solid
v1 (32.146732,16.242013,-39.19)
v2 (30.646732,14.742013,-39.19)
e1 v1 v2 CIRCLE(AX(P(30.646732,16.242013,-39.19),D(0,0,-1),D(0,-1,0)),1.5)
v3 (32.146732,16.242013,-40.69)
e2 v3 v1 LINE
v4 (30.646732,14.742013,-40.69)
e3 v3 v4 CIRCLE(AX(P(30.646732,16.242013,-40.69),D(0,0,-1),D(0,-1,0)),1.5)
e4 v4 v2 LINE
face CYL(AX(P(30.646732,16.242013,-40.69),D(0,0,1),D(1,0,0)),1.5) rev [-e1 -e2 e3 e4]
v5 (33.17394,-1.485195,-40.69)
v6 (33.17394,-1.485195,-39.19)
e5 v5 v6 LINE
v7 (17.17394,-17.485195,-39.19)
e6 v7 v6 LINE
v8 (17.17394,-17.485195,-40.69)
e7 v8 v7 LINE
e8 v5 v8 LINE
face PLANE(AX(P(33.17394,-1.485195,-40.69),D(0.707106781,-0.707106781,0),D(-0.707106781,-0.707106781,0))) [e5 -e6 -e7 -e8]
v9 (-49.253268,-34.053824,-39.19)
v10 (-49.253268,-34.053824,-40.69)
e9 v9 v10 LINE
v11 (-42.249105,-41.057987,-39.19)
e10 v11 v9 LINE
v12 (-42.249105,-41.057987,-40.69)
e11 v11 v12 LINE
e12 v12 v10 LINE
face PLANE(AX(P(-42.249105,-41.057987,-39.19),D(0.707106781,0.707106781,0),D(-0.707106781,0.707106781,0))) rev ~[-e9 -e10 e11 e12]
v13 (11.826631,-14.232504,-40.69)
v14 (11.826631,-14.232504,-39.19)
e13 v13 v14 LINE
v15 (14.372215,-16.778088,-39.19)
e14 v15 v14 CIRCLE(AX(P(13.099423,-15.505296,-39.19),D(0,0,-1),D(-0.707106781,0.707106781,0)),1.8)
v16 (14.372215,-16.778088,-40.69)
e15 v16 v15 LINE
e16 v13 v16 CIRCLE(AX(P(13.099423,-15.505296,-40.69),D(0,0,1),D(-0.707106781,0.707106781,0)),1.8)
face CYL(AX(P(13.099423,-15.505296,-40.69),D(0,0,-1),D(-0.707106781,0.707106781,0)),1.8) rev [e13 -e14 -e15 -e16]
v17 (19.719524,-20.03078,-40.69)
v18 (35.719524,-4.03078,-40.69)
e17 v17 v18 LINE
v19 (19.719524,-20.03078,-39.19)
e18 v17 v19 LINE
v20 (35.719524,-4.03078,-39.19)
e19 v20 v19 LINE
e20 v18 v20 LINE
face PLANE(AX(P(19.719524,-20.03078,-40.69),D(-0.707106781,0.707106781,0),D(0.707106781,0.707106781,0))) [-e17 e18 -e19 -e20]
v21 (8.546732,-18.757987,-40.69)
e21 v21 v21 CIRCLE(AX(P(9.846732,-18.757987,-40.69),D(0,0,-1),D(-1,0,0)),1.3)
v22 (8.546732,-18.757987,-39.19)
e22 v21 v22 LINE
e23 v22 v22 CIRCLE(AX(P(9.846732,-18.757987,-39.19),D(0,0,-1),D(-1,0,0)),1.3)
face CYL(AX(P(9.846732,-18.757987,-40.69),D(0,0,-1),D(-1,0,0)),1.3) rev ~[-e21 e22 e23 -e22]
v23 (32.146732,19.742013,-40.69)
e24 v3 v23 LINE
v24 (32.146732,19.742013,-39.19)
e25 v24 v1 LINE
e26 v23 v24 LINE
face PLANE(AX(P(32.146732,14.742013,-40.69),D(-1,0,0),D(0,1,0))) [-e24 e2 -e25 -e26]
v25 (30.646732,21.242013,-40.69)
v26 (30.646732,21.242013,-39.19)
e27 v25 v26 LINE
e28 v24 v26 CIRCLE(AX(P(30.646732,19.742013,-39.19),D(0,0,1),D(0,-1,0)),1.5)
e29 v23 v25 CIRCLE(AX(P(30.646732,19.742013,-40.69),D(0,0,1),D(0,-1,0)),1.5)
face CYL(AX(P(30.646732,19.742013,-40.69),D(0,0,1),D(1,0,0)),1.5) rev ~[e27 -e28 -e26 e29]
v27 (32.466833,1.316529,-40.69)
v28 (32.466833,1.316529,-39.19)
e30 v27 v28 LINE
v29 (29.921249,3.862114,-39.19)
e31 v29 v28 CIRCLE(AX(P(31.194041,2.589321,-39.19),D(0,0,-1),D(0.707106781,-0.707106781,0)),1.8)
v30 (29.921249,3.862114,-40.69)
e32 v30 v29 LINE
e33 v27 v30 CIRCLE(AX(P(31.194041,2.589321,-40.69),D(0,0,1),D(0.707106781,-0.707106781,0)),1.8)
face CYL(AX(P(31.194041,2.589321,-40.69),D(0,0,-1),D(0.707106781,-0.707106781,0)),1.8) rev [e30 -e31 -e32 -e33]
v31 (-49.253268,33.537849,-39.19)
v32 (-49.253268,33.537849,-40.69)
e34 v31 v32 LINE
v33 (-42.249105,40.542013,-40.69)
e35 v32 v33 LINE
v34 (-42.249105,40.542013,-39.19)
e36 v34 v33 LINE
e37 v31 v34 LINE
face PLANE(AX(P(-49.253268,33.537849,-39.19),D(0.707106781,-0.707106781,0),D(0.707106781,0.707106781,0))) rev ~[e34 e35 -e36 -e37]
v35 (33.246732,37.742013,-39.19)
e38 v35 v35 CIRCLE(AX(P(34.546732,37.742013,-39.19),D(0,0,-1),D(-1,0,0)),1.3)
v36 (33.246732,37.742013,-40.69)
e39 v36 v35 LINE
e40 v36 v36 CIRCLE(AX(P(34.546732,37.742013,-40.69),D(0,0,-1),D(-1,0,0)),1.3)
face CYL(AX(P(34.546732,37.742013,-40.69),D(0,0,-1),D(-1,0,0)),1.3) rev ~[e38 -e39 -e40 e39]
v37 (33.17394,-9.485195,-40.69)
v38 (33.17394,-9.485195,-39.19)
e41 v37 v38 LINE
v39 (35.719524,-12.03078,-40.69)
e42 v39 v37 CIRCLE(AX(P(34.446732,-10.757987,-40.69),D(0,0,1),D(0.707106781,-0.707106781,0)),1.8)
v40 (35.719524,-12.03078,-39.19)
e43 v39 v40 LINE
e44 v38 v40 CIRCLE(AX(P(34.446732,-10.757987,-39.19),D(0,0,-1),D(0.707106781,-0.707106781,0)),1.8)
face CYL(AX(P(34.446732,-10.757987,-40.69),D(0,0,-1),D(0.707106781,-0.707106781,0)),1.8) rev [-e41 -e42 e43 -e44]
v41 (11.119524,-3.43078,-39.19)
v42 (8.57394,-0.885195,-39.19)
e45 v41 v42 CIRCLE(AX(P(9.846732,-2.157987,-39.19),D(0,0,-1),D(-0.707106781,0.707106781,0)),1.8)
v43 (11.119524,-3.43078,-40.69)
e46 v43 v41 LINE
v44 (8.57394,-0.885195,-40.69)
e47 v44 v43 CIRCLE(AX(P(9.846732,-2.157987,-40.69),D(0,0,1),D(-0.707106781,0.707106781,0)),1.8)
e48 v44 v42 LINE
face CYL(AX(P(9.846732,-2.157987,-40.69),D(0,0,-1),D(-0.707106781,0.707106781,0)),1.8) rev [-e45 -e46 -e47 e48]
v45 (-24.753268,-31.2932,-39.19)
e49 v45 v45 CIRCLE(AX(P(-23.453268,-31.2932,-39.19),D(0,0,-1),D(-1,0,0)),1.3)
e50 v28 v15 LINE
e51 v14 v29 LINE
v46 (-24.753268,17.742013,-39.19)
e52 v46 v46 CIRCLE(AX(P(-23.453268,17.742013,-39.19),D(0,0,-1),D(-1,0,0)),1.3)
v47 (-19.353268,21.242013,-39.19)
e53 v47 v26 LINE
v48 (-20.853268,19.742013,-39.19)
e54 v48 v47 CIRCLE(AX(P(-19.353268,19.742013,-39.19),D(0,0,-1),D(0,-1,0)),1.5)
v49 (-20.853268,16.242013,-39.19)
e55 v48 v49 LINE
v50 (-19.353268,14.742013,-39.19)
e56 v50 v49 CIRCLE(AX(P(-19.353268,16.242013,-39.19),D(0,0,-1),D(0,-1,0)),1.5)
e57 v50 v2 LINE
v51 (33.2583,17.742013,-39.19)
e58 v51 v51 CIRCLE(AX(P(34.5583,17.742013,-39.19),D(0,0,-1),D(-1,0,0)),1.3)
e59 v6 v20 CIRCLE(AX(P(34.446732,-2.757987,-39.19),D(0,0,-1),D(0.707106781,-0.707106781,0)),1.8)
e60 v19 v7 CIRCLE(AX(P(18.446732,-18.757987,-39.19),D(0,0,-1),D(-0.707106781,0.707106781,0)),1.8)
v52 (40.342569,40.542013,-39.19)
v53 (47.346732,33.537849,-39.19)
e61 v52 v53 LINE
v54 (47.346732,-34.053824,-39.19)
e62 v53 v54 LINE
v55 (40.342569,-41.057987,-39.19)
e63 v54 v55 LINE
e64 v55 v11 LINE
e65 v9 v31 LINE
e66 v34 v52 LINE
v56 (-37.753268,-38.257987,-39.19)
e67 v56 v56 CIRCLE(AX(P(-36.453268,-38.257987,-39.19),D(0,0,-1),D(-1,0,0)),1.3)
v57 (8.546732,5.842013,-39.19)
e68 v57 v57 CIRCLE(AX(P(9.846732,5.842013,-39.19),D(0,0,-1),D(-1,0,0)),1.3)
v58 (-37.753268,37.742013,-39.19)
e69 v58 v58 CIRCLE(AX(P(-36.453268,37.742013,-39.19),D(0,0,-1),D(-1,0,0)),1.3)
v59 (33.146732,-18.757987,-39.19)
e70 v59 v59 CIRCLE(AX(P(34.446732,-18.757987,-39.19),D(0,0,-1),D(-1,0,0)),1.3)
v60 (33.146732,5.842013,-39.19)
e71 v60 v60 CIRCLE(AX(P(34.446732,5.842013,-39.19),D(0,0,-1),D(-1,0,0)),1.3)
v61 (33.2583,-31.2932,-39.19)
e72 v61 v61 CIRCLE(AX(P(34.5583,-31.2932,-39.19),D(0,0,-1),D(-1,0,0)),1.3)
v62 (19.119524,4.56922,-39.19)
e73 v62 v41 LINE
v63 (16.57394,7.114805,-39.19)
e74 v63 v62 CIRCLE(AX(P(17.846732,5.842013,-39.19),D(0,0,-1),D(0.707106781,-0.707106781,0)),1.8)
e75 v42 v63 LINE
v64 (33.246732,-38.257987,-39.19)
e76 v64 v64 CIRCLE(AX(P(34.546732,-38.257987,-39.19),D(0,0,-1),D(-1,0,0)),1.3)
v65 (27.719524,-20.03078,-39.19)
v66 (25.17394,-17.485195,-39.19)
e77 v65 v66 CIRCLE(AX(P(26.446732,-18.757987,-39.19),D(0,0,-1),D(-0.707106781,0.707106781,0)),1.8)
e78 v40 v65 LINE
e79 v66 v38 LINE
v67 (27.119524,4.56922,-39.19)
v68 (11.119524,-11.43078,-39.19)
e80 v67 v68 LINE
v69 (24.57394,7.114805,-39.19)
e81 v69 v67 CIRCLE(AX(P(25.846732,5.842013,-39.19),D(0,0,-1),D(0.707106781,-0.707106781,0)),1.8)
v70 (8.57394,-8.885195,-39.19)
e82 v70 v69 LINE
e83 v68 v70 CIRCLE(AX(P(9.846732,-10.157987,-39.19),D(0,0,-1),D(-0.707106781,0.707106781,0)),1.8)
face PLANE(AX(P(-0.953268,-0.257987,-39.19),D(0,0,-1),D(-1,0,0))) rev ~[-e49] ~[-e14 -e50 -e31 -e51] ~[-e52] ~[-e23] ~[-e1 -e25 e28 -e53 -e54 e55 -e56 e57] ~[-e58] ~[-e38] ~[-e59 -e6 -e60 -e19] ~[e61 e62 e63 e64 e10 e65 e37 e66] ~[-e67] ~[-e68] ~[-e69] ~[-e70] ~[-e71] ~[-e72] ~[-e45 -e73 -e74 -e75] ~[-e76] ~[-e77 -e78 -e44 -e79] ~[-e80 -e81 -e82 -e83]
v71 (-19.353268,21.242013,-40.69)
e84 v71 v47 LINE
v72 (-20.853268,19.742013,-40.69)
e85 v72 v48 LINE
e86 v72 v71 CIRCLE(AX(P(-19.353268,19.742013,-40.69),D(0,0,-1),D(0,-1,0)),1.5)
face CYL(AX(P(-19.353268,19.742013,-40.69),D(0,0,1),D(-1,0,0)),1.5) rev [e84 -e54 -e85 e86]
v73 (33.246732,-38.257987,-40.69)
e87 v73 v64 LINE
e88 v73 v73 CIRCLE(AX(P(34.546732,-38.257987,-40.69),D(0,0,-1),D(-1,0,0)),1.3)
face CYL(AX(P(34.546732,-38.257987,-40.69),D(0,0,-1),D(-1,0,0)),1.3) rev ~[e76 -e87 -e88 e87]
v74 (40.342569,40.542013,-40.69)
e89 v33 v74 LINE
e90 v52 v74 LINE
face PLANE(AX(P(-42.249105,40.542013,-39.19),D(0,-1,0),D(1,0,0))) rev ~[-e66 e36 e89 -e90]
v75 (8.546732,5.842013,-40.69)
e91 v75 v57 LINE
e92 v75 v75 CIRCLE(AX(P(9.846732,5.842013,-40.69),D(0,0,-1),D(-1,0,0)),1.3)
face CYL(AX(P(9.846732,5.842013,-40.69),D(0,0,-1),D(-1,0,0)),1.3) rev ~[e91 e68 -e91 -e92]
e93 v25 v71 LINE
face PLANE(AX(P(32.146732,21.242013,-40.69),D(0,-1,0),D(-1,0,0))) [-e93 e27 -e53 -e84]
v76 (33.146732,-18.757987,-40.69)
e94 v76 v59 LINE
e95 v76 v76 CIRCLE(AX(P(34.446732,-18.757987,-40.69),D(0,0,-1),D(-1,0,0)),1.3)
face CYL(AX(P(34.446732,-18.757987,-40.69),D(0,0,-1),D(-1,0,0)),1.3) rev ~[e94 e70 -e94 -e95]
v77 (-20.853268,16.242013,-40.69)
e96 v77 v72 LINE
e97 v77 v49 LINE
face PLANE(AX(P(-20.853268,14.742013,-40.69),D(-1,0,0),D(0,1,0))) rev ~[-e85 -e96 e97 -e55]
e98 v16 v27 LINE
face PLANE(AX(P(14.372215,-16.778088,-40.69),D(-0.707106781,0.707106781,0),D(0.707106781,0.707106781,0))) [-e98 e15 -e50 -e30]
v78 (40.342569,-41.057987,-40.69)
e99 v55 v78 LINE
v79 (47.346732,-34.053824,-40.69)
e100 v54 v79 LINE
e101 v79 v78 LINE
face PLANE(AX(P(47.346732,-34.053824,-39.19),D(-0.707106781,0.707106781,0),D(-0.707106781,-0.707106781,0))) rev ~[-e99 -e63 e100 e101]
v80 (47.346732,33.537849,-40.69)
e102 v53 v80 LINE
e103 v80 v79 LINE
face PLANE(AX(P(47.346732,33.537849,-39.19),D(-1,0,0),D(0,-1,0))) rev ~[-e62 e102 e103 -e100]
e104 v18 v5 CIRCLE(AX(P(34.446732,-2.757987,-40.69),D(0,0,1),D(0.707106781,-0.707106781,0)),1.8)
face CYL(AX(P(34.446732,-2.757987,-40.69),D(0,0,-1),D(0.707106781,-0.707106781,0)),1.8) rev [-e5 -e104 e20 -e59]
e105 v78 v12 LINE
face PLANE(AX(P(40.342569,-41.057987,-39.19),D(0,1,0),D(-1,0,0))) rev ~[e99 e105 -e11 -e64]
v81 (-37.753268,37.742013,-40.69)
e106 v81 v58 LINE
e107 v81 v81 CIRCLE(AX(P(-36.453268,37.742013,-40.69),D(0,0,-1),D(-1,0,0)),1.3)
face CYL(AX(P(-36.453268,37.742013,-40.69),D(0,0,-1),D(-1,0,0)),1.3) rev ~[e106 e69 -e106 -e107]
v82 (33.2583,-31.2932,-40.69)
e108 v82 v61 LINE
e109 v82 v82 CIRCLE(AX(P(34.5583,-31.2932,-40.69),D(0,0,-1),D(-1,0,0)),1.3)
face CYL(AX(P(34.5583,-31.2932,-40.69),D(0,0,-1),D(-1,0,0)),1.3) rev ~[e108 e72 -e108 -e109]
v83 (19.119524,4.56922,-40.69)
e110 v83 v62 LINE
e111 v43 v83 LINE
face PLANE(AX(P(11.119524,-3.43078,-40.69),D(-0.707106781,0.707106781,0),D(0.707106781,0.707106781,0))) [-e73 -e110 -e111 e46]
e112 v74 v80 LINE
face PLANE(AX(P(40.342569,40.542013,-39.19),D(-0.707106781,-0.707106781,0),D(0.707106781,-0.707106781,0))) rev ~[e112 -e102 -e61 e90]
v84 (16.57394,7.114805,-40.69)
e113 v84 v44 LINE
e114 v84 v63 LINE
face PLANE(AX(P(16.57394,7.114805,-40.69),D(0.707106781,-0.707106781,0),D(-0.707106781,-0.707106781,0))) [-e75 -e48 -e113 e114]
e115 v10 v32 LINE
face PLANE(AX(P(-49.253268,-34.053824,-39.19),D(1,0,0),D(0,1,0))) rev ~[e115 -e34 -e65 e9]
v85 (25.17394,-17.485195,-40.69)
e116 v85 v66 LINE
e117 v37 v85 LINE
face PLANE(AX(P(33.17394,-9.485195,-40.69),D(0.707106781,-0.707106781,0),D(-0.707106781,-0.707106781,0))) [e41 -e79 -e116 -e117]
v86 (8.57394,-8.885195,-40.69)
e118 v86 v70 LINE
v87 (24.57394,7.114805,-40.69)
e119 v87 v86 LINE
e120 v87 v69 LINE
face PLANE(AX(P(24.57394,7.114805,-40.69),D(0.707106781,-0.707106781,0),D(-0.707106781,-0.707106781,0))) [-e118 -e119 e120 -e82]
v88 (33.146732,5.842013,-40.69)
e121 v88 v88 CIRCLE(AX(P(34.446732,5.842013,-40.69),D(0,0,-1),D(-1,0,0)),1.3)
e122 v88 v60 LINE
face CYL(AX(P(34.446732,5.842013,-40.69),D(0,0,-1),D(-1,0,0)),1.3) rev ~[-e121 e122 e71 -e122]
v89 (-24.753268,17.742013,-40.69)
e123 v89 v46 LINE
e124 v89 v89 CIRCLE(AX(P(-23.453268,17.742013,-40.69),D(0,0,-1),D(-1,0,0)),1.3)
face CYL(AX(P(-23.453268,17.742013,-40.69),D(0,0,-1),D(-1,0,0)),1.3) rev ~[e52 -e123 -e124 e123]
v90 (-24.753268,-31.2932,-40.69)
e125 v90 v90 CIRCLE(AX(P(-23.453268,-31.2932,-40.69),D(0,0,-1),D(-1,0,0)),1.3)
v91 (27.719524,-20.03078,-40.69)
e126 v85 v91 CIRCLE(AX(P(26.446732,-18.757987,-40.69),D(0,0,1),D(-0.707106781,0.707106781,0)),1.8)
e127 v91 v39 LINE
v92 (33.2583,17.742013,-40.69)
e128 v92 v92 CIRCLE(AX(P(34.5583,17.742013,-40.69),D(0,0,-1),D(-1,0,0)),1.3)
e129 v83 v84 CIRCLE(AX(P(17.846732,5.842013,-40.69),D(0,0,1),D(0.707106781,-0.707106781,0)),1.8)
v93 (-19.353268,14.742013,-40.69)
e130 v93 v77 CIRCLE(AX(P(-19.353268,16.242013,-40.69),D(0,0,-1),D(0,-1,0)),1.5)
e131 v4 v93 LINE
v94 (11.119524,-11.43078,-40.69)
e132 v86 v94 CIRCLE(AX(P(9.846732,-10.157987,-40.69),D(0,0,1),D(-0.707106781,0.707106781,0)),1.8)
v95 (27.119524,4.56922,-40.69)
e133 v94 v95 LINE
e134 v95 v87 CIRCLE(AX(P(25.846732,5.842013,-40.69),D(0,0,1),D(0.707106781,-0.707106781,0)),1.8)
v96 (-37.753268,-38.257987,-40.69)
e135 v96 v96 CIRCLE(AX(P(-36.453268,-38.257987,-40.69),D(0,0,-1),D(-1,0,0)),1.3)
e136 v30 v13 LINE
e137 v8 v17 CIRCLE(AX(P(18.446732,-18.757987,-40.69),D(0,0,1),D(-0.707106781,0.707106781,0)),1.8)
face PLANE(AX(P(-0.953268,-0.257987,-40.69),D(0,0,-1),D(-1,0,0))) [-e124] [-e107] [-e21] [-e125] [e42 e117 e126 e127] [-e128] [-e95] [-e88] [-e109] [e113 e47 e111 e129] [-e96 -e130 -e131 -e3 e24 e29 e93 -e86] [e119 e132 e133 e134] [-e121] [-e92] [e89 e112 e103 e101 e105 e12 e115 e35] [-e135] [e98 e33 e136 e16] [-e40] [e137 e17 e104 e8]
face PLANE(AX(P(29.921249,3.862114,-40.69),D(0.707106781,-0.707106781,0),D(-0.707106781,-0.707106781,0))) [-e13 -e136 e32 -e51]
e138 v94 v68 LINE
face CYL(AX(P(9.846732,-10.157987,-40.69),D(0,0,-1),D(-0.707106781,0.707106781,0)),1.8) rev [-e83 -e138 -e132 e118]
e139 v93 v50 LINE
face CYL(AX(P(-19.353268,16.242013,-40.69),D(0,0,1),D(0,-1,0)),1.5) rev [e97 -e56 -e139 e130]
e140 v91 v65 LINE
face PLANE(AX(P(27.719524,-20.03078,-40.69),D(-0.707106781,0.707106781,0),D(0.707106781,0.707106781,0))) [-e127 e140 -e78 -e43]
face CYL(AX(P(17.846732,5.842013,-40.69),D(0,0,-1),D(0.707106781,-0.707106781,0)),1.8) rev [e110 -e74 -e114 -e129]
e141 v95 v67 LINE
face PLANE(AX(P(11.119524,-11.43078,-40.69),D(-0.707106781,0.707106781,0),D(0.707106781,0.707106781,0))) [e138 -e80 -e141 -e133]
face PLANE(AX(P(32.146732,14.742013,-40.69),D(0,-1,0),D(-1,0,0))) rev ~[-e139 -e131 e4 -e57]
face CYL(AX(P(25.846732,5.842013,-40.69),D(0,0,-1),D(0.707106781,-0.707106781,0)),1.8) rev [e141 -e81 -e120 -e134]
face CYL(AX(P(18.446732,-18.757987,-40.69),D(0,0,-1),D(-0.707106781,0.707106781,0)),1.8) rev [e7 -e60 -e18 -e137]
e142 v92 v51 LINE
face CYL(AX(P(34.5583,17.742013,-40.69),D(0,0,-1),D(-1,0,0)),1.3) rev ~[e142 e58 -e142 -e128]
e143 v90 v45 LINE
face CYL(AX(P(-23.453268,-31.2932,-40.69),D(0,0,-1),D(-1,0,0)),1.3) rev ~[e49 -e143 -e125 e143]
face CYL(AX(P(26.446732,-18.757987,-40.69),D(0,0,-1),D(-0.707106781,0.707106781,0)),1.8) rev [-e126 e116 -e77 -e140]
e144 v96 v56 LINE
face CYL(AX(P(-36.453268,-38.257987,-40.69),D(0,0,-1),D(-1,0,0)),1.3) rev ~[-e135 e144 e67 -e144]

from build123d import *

# Parameters (mm, degrees)
EXTRUDE_1_DEPTH     = 1.5
SKETCH_3_R          = 1.3
CUT_EXTRUDE_1_DEPTH = 65.139634718
CUT_EXTRUDE_2_REACH = 66.14
SKETCH_4_R          = 1.3
CUT_EXTRUDE_3_REACH = 66.14
SKETCH_5_W          = 53
SKETCH_5_H          = 6.5
FILLET_1_R          = 1.5
CUT_EXTRUDE_4_REACH = 66.14
SKETCH_7_R          = 1.3
CUT_EXTRUDE_5_REACH = 66.14


with BuildPart() as part:
    # 草图2 → 凸台-拉伸1 (new body)
    with BuildSketch(Plane(origin=(0, 0, -39.19), x_dir=(-1, 0, 0), z_dir=(0, 0, -1))):
        Polygon((-47.34673203, -34.053824425), (-40.342568974, -41.057987481), (42.249104914, -41.057987481), (49.25326797, -34.053824425), (49.25326797, 33.537849463), (42.249104914, 40.542012519), (-40.342568974, 40.542012519), (-47.34673203, 33.537849463), align=None)
    extrude(amount=EXTRUDE_1_DEPTH)

    # 草图3 → 切除-拉伸1 (cut, through all)
    with BuildSketch(Plane(origin=(0, 0, -40.69), x_dir=(-1, 0, 0), z_dir=(0, 0, -1))):
        with Locations((-34.54673203, -38.257987481)):
            Circle(SKETCH_3_R)
        with Locations((36.45326797, -38.257987481)):
            Circle(SKETCH_3_R)
        with Locations((-34.54673203, 37.742012519)):
            Circle(SKETCH_3_R)
        with Locations((36.45326797, 37.742012519)):
            Circle(SKETCH_3_R)
    extrude(amount=-CUT_EXTRUDE_1_DEPTH, mode=Mode.SUBTRACT)

    # 草图4 → 切除-拉伸2 (cut, up to next)
    with BuildSketch(Plane(origin=(0, 0, -40.69), x_dir=(-1, 0, 0), z_dir=(0, 0, -1)), mode=Mode.PRIVATE) as cut_extrude_2_sk1:
        with Locations((23.45326797, -31.293200074)):
            Circle(SKETCH_4_R)
    cut_extrude_2_tool1 = extrude(cut_extrude_2_sk1.sketch, amount=-CUT_EXTRUDE_2_REACH, mode=Mode.PRIVATE) & part.part
    # 草图4 → 切除-拉伸2 (cut, up to next)
    with BuildSketch(Plane(origin=(0, 0, -40.69), x_dir=(-1, 0, 0), z_dir=(0, 0, -1)), mode=Mode.PRIVATE) as cut_extrude_2_sk2:
        with Locations((-34.558299802, -31.293200074)):
            Circle(SKETCH_4_R)
    cut_extrude_2_tool2 = extrude(cut_extrude_2_sk2.sketch, amount=-CUT_EXTRUDE_2_REACH, mode=Mode.PRIVATE) & part.part
    # 草图4 → 切除-拉伸2 (cut, up to next)
    with BuildSketch(Plane(origin=(0, 0, -40.69), x_dir=(-1, 0, 0), z_dir=(0, 0, -1)), mode=Mode.PRIVATE) as cut_extrude_2_sk3:
        with Locations((23.45326797, 17.742012519)):
            Circle(SKETCH_4_R)
    cut_extrude_2_tool3 = extrude(cut_extrude_2_sk3.sketch, amount=-CUT_EXTRUDE_2_REACH, mode=Mode.PRIVATE) & part.part
    # 草图4 → 切除-拉伸2 (cut, up to next)
    with BuildSketch(Plane(origin=(0, 0, -40.69), x_dir=(-1, 0, 0), z_dir=(0, 0, -1)), mode=Mode.PRIVATE) as cut_extrude_2_sk4:
        with Locations((-34.558299802, 17.742012519)):
            Circle(SKETCH_4_R)
    cut_extrude_2_tool4 = extrude(cut_extrude_2_sk4.sketch, amount=-CUT_EXTRUDE_2_REACH, mode=Mode.PRIVATE) & part.part
    add(cut_extrude_2_tool1.solids().sort_by_distance((-23.453268, -31.2932, -40.69))[0], mode=Mode.SUBTRACT)
    add(cut_extrude_2_tool2.solids().sort_by_distance((34.5583, -31.2932, -40.69))[0], mode=Mode.SUBTRACT)
    add(cut_extrude_2_tool3.solids().sort_by_distance((-23.453268, 17.742013, -40.69))[0], mode=Mode.SUBTRACT)
    add(cut_extrude_2_tool4.solids().sort_by_distance((34.5583, 17.742013, -40.69))[0], mode=Mode.SUBTRACT)

    # 草图5 → 切除-拉伸3 (cut, up to next)
    with BuildSketch(Plane(origin=(0, 0, -40.69), x_dir=(-1, 0, 0), z_dir=(0, 0, -1)), mode=Mode.PRIVATE) as cut_extrude_3_sk1:
        with Locations((-5.64673203, 17.992012519)):
            Rectangle(SKETCH_5_W, SKETCH_5_H)
    cut_extrude_3_tool1 = extrude(cut_extrude_3_sk1.sketch, amount=-CUT_EXTRUDE_3_REACH, mode=Mode.PRIVATE) & part.part
    add(cut_extrude_3_tool1.solids().sort_by_distance((5.646732, 17.992013, -40.69))[0], mode=Mode.SUBTRACT)

    # 圆角1
    fillet_1_edges = [part.edges().sort_by_distance(p)[0] for p in [
        (32.14673203, 14.742012519, -39.94),
        (32.14673203, 21.242012519, -39.94),
        (-20.85326797, 21.242012519, -39.94),
        (-20.85326797, 14.742012519, -39.94),
    ]]
    fillet(fillet_1_edges, radius=FILLET_1_R)

    # 草图7 → 切除-拉伸4 (cut, up to next)
    with BuildSketch(Plane(origin=(0, 0, -40.69), x_dir=(-1, 0, 0), z_dir=(0, 0, -1)), mode=Mode.PRIVATE) as cut_extrude_4_sk1:
        with Locations((-34.44673203, 5.842012519)):
            Circle(SKETCH_7_R)
    cut_extrude_4_tool1 = extrude(cut_extrude_4_sk1.sketch, amount=-CUT_EXTRUDE_4_REACH, mode=Mode.PRIVATE) & part.part
    # 草图7 → 切除-拉伸4 (cut, up to next)
    with BuildSketch(Plane(origin=(0, 0, -40.69), x_dir=(-1, 0, 0), z_dir=(0, 0, -1)), mode=Mode.PRIVATE) as cut_extrude_4_sk2:
        with Locations((-34.44673203, -18.757987481)):
            Circle(SKETCH_7_R)
    cut_extrude_4_tool2 = extrude(cut_extrude_4_sk2.sketch, amount=-CUT_EXTRUDE_4_REACH, mode=Mode.PRIVATE) & part.part
    # 草图7 → 切除-拉伸4 (cut, up to next)
    with BuildSketch(Plane(origin=(0, 0, -40.69), x_dir=(-1, 0, 0), z_dir=(0, 0, -1)), mode=Mode.PRIVATE) as cut_extrude_4_sk3:
        with Locations((-9.84673203, 5.842012519)):
            Circle(SKETCH_7_R)
    cut_extrude_4_tool3 = extrude(cut_extrude_4_sk3.sketch, amount=-CUT_EXTRUDE_4_REACH, mode=Mode.PRIVATE) & part.part
    # 草图7 → 切除-拉伸4 (cut, up to next)
    with BuildSketch(Plane(origin=(0, 0, -40.69), x_dir=(-1, 0, 0), z_dir=(0, 0, -1)), mode=Mode.PRIVATE) as cut_extrude_4_sk4:
        with Locations((-9.84673203, -18.757987481)):
            Circle(SKETCH_7_R)
    cut_extrude_4_tool4 = extrude(cut_extrude_4_sk4.sketch, amount=-CUT_EXTRUDE_4_REACH, mode=Mode.PRIVATE) & part.part
    add(cut_extrude_4_tool1.solids().sort_by_distance((34.446732, 5.842013, -40.69))[0], mode=Mode.SUBTRACT)
    add(cut_extrude_4_tool2.solids().sort_by_distance((34.446732, -18.757987, -40.69))[0], mode=Mode.SUBTRACT)
    add(cut_extrude_4_tool3.solids().sort_by_distance((9.846732, 5.842013, -40.69))[0], mode=Mode.SUBTRACT)
    add(cut_extrude_4_tool4.solids().sort_by_distance((9.846732, -18.757987, -40.69))[0], mode=Mode.SUBTRACT)

    # 草图8 → 切除-拉伸5 (cut, up to next)
    with BuildSketch(Plane(origin=(0, 0, -40.69), x_dir=(-1, 0, 0), z_dir=(0, 0, -1)), mode=Mode.PRIVATE) as cut_extrude_5_sk1:
        with BuildLine():
            Line((-29.92124863, 3.862113532), (-11.826631017, -14.232504081))
            ThreePointArc((-11.826631017, -14.232504081), (-11.826631017, -16.778088493), (-14.372215429, -16.778088493))
            Line((-14.372215429, -16.778088493), (-32.466833042, 1.31652912))
            ThreePointArc((-32.466833042, 1.31652912), (-32.466833042, 3.862113532), (-29.92124863, 3.862113532))
        make_face()
    cut_extrude_5_tool1 = extrude(cut_extrude_5_sk1.sketch, amount=-CUT_EXTRUDE_5_REACH, mode=Mode.PRIVATE) & part.part
    # 草图8 → 切除-拉伸5 (cut, up to next)
    with BuildSketch(Plane(origin=(0, 0, -40.69), x_dir=(-1, 0, 0), z_dir=(0, 0, -1)), mode=Mode.PRIVATE) as cut_extrude_5_sk2:
        with BuildLine():
            Line((-33.173939824, -1.485195275), (-17.173939824, -17.485195275))
            ThreePointArc((-17.173939824, -17.485195275), (-17.173939824, -20.030779687), (-19.719524236, -20.030779687))
            Line((-19.719524236, -20.030779687), (-35.719524236, -4.030779687))
            ThreePointArc((-35.719524236, -4.030779687), (-35.719524236, -1.485195275), (-33.173939824, -1.485195275))
        make_face()
    cut_extrude_5_tool2 = extrude(cut_extrude_5_sk2.sketch, amount=-CUT_EXTRUDE_5_REACH, mode=Mode.PRIVATE) & part.part
    # 草图8 → 切除-拉伸5 (cut, up to next)
    with BuildSketch(Plane(origin=(0, 0, -40.69), x_dir=(-1, 0, 0), z_dir=(0, 0, -1)), mode=Mode.PRIVATE) as cut_extrude_5_sk3:
        with BuildLine():
            Line((-24.573939824, 7.114804725), (-8.573939824, -8.885195275))
            ThreePointArc((-8.573939824, -8.885195275), (-8.573939824, -11.430779687), (-11.119524236, -11.430779687))
            Line((-11.119524236, -11.430779687), (-27.119524236, 4.569220313))
            ThreePointArc((-27.119524236, 4.569220313), (-27.119524236, 7.114804725), (-24.573939824, 7.114804725))
        make_face()
    cut_extrude_5_tool3 = extrude(cut_extrude_5_sk3.sketch, amount=-CUT_EXTRUDE_5_REACH, mode=Mode.PRIVATE) & part.part
    # 草图8 → 切除-拉伸5 (cut, up to next)
    with BuildSketch(Plane(origin=(0, 0, -40.69), x_dir=(-1, 0, 0), z_dir=(0, 0, -1)), mode=Mode.PRIVATE) as cut_extrude_5_sk4:
        with BuildLine():
            Line((-16.573939824, 7.114804725), (-8.573939824, -0.885195275))
            ThreePointArc((-8.573939824, -0.885195275), (-8.573939824, -3.430779687), (-11.119524236, -3.430779687))
            Line((-11.119524236, -3.430779687), (-19.119524236, 4.569220313))
            ThreePointArc((-19.119524236, 4.569220313), (-19.119524236, 7.114804725), (-16.573939824, 7.114804725))
        make_face()
    cut_extrude_5_tool4 = extrude(cut_extrude_5_sk4.sketch, amount=-CUT_EXTRUDE_5_REACH, mode=Mode.PRIVATE) & part.part
    # 草图8 → 切除-拉伸5 (cut, up to next)
    with BuildSketch(Plane(origin=(0, 0, -40.69), x_dir=(-1, 0, 0), z_dir=(0, 0, -1)), mode=Mode.PRIVATE) as cut_extrude_5_sk5:
        with BuildLine():
            Line((-33.173939824, -9.485195275), (-25.173939824, -17.485195275))
            ThreePointArc((-25.173939824, -17.485195275), (-25.173939824, -20.030779687), (-27.719524236, -20.030779687))
            Line((-27.719524236, -20.030779687), (-35.719524236, -12.030779687))
            ThreePointArc((-35.719524236, -12.030779687), (-35.719524236, -9.485195275), (-33.173939824, -9.485195275))
        make_face()
    cut_extrude_5_tool5 = extrude(cut_extrude_5_sk5.sketch, amount=-CUT_EXTRUDE_5_REACH, mode=Mode.PRIVATE) & part.part
    add(cut_extrude_5_tool1.solids().sort_by_distance((22.146732, -6.457987, -40.69))[0], mode=Mode.SUBTRACT)
    add(cut_extrude_5_tool2.solids().sort_by_distance((26.446732, -10.757987, -40.69))[0], mode=Mode.SUBTRACT)
    add(cut_extrude_5_tool3.solids().sort_by_distance((17.846732, -2.157987, -40.69))[0], mode=Mode.SUBTRACT)
    add(cut_extrude_5_tool4.solids().sort_by_distance((13.846732, 1.842013, -40.69))[0], mode=Mode.SUBTRACT)
    add(cut_extrude_5_tool5.solids().sort_by_distance((30.446732, -14.757987, -40.69))[0], mode=Mode.SUBTRACT)


solid = part.part
